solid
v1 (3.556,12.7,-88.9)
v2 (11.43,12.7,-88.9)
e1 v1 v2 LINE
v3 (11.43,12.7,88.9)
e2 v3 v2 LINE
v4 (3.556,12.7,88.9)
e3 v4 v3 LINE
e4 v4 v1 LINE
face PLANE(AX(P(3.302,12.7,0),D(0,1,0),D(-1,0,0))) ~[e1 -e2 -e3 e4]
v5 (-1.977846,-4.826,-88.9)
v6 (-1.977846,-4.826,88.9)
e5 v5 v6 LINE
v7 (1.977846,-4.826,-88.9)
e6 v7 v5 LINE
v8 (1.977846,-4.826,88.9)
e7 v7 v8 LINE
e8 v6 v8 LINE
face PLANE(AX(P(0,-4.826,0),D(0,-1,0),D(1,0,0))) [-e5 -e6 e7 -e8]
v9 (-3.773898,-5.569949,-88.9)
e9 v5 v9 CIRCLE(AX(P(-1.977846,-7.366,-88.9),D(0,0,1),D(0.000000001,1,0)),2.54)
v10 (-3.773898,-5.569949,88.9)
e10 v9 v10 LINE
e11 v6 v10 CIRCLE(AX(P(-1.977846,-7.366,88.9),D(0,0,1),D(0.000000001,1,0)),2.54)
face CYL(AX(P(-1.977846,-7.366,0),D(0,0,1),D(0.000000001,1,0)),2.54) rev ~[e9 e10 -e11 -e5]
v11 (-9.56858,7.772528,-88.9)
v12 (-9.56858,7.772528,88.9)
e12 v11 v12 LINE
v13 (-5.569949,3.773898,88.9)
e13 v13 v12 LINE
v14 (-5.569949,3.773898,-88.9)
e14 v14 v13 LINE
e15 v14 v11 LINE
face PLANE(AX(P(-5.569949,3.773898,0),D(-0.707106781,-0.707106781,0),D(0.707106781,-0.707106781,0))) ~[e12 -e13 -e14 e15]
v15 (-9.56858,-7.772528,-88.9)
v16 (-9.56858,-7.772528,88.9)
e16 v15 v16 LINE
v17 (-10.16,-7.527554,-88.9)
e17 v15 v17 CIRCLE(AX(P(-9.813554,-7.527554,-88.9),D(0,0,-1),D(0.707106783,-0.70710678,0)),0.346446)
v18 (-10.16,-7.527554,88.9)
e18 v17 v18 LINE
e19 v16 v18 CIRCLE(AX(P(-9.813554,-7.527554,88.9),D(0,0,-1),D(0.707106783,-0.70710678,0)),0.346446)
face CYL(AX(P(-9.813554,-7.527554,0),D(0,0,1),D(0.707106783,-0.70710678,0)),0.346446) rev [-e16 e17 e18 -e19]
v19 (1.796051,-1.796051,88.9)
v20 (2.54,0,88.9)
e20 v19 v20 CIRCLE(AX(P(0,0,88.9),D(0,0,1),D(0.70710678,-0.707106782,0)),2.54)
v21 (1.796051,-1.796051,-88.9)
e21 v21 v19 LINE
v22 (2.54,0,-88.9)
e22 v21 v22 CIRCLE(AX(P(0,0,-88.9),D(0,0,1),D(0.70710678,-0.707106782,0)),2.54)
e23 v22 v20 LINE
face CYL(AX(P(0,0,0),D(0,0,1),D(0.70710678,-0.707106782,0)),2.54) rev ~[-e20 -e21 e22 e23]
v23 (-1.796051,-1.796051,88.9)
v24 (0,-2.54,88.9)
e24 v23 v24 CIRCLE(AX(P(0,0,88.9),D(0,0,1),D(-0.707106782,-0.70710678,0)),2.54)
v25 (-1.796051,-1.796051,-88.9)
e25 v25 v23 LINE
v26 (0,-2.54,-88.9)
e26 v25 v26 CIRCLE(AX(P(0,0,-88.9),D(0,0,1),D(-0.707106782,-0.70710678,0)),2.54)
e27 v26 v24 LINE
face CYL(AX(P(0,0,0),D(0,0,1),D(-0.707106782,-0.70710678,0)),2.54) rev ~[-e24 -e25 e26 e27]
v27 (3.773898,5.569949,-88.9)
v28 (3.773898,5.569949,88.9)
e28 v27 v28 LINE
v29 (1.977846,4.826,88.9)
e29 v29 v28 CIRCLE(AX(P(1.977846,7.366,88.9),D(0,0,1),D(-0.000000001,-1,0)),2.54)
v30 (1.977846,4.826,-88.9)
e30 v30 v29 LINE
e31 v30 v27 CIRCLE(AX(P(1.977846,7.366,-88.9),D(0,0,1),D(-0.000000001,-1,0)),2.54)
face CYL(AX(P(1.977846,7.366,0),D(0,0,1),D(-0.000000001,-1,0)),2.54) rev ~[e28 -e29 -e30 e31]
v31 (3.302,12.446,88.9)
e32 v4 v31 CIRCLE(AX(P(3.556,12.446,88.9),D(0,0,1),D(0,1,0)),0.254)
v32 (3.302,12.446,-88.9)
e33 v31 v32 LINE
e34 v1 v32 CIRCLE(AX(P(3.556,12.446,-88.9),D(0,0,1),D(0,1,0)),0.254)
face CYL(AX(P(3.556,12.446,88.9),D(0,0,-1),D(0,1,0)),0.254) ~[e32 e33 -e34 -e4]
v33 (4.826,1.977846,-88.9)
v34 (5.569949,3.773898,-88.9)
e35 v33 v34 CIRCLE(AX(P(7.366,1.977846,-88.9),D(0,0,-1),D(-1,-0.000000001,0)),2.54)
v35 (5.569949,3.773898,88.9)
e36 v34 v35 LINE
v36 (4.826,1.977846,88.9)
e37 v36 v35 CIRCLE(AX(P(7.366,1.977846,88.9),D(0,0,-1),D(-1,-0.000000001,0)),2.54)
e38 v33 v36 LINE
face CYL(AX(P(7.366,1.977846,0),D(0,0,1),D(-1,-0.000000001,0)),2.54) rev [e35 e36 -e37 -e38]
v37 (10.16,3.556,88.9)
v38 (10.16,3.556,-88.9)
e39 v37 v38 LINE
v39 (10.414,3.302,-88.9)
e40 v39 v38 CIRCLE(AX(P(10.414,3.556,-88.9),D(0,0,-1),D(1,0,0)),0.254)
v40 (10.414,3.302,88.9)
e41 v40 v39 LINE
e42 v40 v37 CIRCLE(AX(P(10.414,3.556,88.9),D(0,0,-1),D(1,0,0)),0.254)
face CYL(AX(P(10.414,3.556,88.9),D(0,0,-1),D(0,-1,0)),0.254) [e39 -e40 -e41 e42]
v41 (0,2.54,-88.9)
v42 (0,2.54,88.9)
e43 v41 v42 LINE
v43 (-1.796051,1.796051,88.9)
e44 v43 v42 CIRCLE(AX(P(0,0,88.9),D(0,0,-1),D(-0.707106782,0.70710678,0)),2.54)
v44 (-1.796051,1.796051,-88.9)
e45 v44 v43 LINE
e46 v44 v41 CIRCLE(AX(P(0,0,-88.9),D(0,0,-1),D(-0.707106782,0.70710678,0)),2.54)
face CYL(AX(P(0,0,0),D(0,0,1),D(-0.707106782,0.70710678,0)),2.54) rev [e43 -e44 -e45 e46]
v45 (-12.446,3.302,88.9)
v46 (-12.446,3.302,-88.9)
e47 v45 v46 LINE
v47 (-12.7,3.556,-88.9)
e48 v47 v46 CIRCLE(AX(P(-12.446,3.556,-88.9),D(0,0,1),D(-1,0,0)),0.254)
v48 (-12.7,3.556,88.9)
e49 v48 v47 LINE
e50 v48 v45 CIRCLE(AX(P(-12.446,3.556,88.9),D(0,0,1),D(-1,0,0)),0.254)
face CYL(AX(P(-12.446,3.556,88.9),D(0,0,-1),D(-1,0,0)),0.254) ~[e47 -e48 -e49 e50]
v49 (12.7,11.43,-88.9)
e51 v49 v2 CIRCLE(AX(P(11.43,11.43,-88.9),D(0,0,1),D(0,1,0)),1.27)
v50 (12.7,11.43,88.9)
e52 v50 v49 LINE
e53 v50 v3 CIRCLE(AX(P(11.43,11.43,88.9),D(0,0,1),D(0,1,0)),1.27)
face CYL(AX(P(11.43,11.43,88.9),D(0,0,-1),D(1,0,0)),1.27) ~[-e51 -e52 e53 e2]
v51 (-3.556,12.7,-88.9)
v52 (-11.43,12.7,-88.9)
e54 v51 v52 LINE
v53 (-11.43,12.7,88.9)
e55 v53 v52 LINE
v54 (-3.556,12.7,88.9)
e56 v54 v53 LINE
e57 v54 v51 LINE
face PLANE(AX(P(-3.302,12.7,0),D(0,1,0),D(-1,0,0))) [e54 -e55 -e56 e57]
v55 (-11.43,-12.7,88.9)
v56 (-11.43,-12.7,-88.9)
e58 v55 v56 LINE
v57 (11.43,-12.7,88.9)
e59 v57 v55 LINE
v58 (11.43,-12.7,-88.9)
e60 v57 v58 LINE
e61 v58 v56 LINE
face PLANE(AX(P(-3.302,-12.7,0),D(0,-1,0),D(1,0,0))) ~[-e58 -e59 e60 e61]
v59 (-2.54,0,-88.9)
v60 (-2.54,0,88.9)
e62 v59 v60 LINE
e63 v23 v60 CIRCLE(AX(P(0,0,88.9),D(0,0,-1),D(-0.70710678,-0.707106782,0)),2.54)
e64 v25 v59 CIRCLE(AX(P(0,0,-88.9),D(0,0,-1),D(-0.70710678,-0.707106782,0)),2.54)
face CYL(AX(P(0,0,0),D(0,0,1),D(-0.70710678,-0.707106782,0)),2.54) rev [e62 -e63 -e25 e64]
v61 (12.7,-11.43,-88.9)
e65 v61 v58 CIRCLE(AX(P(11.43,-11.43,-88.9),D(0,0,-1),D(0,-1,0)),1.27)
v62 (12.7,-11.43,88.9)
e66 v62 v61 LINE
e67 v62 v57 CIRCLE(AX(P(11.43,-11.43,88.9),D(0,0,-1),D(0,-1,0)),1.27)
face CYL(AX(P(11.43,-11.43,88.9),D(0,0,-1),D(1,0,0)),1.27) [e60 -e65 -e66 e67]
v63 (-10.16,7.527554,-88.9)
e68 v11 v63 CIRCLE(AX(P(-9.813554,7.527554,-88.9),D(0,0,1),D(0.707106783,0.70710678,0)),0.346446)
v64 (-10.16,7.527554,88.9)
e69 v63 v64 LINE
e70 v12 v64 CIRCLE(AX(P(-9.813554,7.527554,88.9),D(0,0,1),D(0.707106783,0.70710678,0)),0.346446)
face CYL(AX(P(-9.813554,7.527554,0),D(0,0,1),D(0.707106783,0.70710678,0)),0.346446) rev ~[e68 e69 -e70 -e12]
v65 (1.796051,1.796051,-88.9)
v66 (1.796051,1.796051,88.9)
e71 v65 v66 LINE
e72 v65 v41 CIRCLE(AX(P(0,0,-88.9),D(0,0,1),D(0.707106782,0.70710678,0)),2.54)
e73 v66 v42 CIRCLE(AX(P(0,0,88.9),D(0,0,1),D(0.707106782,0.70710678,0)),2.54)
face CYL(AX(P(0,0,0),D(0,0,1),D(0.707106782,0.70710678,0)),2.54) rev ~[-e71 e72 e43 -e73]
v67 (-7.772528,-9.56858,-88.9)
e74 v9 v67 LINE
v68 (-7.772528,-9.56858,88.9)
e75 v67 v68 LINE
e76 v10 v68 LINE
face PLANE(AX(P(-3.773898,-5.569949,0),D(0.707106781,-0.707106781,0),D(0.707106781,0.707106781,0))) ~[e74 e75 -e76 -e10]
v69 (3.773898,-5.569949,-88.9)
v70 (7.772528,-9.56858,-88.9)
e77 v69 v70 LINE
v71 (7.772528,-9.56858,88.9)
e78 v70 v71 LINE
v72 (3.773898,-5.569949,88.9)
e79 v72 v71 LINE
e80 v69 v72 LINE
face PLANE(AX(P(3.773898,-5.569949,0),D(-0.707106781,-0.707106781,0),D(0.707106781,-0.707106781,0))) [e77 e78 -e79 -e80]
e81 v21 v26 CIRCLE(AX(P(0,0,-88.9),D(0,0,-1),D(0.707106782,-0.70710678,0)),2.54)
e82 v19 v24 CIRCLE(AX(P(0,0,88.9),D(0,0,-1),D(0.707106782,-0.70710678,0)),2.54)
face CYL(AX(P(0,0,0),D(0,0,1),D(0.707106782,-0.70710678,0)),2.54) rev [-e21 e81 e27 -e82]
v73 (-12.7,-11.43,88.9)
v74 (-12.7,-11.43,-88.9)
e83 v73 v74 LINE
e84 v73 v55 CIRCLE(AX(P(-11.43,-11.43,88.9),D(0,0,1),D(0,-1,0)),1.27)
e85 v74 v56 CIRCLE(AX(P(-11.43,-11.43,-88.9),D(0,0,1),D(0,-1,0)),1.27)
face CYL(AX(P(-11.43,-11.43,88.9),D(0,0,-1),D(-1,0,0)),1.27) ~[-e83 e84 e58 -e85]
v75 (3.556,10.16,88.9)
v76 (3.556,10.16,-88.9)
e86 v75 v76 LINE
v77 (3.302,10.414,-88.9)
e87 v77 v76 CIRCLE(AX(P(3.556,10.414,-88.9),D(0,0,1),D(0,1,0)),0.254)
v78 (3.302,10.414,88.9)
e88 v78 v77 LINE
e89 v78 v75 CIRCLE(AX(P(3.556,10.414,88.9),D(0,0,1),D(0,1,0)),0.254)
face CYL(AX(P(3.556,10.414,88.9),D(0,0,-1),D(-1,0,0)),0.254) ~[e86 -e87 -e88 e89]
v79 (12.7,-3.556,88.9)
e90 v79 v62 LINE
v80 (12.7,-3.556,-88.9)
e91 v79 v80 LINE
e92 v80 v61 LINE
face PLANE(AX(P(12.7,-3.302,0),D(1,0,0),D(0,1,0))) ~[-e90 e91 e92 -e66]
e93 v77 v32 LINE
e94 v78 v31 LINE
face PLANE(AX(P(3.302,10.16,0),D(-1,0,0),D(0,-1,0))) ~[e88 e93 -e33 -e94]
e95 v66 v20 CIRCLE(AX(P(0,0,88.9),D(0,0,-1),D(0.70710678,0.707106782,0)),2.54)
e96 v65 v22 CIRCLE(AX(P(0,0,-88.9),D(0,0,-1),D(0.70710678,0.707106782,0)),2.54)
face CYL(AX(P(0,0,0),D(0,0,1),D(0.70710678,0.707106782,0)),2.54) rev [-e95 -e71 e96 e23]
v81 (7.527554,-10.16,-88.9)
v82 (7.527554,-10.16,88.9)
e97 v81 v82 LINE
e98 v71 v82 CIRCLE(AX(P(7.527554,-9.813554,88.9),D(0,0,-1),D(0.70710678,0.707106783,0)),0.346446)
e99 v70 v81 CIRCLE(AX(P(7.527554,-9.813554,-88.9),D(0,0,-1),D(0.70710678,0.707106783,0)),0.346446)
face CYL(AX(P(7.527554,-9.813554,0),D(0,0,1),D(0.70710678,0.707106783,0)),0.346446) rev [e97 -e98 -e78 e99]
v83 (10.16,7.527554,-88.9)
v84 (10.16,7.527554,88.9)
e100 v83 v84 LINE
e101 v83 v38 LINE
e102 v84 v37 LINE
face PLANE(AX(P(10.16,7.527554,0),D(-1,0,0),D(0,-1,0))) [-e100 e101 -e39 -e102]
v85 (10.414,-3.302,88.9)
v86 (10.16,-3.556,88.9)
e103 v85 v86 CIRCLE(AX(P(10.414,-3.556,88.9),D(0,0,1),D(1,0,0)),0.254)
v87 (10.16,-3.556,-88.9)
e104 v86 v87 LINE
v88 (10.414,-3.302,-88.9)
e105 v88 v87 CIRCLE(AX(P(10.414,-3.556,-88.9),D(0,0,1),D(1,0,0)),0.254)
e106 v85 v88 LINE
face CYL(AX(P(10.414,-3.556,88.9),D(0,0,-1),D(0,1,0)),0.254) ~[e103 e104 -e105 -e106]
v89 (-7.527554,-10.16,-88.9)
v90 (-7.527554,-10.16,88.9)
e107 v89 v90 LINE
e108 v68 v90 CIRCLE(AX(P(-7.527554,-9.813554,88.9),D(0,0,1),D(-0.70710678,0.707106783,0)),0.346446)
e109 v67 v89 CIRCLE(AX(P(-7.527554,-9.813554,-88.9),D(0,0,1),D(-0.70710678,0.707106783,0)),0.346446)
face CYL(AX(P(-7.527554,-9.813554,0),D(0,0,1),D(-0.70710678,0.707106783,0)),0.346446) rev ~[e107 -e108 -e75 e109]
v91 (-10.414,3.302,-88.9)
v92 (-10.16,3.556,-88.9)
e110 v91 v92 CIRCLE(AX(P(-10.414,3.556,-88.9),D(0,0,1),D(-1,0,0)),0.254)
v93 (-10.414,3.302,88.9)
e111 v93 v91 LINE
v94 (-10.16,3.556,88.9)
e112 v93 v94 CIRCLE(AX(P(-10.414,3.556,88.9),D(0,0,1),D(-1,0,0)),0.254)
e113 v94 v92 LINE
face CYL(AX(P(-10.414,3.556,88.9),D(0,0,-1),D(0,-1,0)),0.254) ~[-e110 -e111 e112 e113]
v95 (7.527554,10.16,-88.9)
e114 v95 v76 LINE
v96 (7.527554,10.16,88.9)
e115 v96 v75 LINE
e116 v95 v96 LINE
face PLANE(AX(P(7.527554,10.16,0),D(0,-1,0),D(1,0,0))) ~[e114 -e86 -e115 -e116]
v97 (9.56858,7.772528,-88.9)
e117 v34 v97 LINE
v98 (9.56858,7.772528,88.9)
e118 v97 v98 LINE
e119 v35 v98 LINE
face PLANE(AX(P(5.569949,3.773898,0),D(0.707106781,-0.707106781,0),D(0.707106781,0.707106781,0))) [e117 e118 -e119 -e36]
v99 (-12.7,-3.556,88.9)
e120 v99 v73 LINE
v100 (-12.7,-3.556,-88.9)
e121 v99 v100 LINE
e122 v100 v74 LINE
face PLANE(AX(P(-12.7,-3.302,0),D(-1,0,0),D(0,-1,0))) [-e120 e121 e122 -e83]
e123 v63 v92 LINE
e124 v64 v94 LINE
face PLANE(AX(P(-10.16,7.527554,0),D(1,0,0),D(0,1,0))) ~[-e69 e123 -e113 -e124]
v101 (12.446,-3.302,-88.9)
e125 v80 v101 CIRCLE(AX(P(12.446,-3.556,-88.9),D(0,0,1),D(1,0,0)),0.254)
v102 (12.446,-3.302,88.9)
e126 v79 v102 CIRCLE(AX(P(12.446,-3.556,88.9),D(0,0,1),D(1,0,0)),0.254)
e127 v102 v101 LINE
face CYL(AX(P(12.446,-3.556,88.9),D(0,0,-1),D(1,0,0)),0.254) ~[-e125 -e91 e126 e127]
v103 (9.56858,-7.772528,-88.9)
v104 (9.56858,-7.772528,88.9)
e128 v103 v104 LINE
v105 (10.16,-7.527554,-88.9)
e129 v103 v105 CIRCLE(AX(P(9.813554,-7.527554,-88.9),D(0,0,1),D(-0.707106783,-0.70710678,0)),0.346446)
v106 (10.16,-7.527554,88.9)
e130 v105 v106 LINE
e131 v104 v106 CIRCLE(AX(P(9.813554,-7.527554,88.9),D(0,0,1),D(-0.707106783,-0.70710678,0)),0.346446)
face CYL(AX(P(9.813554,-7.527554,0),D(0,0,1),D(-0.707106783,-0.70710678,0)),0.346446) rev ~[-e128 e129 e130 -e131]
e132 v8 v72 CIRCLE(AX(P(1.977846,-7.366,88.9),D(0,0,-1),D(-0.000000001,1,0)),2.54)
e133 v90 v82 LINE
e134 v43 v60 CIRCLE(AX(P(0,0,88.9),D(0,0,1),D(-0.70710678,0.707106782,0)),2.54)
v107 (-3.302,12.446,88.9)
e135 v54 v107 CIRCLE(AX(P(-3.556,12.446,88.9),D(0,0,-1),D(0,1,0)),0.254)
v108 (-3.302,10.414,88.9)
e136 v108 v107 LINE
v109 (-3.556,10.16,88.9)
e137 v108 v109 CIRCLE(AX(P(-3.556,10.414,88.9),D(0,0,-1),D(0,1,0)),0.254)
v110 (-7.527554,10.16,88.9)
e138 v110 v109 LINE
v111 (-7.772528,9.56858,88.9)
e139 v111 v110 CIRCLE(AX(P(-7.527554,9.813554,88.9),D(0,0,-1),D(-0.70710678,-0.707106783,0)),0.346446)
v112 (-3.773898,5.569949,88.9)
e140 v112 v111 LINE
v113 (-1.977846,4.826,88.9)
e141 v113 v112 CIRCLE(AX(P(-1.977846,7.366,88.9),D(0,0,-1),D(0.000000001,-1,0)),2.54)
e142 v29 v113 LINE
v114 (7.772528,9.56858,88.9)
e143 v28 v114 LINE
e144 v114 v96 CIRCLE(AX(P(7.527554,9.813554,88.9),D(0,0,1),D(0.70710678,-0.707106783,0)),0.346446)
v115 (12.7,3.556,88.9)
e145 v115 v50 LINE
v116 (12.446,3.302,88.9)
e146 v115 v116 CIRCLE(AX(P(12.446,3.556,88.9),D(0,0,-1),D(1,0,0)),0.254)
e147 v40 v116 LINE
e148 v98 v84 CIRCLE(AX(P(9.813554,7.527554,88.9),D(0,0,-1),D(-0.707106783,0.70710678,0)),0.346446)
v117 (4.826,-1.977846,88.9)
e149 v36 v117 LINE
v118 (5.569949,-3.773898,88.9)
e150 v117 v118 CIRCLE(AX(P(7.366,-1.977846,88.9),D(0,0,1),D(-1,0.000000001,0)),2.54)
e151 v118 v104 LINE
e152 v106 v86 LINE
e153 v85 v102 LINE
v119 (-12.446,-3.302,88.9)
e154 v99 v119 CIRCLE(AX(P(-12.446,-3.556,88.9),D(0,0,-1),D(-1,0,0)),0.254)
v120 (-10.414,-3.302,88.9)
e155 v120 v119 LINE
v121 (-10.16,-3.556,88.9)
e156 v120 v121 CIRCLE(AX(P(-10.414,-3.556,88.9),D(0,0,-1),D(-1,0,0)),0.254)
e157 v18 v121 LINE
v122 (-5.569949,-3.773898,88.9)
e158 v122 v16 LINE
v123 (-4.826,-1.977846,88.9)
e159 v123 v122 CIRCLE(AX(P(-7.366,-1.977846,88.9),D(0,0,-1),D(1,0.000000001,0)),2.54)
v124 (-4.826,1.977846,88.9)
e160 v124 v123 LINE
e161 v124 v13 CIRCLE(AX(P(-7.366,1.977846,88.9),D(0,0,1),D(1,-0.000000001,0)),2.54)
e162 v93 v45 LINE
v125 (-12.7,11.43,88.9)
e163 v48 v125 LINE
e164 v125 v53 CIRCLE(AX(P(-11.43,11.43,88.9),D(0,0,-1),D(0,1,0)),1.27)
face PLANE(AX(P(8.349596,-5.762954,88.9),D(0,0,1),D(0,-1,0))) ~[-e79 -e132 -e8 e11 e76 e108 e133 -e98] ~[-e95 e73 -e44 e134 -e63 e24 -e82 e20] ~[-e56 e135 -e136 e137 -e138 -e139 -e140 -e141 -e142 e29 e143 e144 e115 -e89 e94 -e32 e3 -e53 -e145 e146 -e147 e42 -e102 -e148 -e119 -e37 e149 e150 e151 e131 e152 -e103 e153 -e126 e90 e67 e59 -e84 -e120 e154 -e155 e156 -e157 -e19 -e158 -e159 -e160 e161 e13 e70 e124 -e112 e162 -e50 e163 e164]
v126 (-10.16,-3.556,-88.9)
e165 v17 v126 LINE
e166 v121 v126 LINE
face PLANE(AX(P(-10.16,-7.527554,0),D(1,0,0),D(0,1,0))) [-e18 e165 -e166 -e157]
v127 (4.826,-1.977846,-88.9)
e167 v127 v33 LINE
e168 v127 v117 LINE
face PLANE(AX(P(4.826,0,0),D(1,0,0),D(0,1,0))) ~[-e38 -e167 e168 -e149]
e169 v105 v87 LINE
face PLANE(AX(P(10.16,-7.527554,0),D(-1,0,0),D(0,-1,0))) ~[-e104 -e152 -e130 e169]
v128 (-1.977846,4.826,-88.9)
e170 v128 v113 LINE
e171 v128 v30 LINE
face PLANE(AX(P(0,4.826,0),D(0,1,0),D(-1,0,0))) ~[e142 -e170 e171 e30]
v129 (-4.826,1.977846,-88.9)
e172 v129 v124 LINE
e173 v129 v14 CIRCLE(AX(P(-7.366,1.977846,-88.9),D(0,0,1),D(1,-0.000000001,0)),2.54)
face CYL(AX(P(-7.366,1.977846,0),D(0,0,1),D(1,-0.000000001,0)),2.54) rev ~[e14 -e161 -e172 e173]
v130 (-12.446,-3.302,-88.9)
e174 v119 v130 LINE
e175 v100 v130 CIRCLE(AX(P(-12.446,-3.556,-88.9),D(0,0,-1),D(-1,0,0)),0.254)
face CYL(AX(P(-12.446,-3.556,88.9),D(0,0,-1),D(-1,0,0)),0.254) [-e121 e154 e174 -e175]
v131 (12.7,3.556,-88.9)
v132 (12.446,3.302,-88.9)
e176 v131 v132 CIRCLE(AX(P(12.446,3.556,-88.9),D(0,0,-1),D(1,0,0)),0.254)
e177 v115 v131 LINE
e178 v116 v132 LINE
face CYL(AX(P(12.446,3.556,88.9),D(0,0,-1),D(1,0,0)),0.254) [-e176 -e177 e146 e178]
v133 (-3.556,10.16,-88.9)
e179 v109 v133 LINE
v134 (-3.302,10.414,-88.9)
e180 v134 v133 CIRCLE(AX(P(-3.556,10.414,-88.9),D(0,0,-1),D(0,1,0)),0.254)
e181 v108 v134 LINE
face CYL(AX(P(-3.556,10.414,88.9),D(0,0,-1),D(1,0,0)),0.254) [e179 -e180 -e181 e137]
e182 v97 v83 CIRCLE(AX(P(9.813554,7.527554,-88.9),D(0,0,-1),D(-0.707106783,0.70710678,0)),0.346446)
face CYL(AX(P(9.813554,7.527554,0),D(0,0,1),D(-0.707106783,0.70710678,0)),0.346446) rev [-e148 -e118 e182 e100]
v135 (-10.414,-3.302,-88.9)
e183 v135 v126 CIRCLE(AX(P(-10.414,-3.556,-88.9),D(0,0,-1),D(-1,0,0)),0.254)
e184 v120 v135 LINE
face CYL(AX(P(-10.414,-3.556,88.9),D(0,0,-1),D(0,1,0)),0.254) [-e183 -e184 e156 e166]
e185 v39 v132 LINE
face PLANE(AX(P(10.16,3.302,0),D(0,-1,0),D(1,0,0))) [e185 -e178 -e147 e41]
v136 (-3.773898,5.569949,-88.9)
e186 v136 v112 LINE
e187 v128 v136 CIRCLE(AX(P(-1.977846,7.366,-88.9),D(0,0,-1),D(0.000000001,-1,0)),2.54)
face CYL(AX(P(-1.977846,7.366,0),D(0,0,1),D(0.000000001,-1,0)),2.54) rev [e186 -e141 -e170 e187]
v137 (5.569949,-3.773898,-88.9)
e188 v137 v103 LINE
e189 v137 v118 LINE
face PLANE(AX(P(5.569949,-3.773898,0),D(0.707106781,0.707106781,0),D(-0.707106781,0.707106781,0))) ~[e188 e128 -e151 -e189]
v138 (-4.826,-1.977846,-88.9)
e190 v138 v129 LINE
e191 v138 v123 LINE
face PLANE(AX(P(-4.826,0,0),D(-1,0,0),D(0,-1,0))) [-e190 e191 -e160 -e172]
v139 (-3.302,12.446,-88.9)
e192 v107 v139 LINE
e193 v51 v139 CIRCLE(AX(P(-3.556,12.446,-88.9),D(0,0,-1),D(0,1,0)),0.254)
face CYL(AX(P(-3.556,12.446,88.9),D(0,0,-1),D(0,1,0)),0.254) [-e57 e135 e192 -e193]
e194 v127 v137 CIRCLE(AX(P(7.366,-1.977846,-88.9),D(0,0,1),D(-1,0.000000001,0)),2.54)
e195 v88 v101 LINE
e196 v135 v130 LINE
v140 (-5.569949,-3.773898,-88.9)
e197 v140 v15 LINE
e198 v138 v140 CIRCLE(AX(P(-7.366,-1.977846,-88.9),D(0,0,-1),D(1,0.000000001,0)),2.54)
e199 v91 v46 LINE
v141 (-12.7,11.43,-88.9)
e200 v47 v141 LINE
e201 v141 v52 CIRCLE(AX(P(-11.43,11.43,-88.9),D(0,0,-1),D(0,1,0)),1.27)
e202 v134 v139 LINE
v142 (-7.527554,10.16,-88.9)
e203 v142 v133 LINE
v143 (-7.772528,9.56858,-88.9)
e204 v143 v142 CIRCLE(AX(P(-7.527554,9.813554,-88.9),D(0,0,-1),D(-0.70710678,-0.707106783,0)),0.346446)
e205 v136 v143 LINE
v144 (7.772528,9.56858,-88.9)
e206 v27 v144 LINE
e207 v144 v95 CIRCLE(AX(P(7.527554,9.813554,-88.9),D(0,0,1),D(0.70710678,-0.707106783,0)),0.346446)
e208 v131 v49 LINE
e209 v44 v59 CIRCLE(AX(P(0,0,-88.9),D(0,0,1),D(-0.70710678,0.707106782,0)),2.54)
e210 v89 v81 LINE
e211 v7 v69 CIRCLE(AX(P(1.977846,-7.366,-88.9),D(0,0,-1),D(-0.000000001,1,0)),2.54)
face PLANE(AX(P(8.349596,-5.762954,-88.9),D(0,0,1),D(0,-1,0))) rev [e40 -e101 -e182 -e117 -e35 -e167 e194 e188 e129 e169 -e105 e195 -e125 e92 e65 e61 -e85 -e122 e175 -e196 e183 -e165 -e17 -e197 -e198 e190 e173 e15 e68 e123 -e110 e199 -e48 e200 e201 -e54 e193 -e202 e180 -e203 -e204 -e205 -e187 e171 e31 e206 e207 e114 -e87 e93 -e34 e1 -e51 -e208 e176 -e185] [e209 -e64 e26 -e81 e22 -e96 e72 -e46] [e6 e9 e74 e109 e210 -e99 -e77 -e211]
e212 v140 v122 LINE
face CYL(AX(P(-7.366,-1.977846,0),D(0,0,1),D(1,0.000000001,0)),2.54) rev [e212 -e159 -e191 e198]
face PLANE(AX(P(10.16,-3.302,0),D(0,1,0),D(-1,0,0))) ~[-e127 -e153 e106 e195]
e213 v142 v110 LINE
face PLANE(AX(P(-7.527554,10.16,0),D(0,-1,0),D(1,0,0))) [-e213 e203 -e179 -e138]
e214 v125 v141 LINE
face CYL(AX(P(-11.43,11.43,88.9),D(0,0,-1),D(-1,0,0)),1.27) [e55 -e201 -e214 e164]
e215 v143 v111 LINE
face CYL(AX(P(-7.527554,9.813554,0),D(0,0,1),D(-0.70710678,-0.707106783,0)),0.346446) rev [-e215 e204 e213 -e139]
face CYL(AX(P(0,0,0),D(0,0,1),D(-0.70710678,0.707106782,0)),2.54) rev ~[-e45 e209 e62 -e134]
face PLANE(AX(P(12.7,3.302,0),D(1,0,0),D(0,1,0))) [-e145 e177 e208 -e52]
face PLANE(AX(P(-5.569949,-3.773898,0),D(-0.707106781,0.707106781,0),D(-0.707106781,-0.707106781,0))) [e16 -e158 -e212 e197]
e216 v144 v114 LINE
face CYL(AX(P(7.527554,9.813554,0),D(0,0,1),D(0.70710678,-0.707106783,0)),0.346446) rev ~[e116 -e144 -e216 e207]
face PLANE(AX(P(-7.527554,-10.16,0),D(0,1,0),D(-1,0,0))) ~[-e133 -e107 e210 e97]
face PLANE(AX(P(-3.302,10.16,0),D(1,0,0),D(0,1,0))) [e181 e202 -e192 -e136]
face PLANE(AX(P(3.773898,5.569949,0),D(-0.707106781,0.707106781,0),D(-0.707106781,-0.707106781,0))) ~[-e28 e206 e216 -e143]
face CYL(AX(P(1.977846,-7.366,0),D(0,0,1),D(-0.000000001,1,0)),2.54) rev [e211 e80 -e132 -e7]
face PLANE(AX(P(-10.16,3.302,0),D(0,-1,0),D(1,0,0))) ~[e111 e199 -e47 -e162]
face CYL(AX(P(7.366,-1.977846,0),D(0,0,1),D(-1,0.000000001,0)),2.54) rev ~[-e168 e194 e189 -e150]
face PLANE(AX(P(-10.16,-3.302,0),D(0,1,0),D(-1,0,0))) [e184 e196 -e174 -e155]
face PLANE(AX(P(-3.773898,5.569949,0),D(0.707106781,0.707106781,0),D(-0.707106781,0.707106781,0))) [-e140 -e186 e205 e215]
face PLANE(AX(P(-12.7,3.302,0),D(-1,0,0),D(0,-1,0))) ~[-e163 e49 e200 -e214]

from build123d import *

# Parameters (mm, degrees)
BOSS_EXTRUDE1_DEPTH = 88.9
FILLET2_R           = 0.254
FILLET1_R           = 1.27
SKETCH5_W           = 7.112
SKETCH5_H           = 2.54
BOSS_EXTRUDE2_DEPTH = 177.8


with BuildPart() as part:
    # Sketch3 → Boss-Extrude1 (new body, symmetric)
    with BuildSketch(Plane.XY):
        with BuildLine():
            Line((-12.7, 12.7), (-1.796051224, 1.796051224))
            ThreePointArc((-1.796051224, 1.796051224), (-0.972015918, 2.346654013), (0, 2.54))
            Line((0, 2.54), (0, 4.826))
            Line((0, 4.826), (-1.977846327, 4.826))
            ThreePointArc((-1.977846327, 4.826), (-2.949862246, 5.019345987), (-3.773897552, 5.569948776))
            Line((-3.773897552, 5.569948776), (-7.772528286, 9.56857951))
            ThreePointArc((-7.772528286, 9.56857951), (-7.847628361, 9.946133082), (-7.527553898, 10.16))
            Line((-7.527553898, 10.16), (-3.302, 10.16))
            Line((-3.302, 10.16), (-3.302, 12.7))
            Line((-3.302, 12.7), (-12.7, 12.7))
        make_face()
    extrude(amount=BOSS_EXTRUDE1_DEPTH, both=True)

    # Fillet2
    fillet2_edges = [part.edges().sort_by_distance(p)[0] for p in [
        (-3.302, 12.7, 0),
        (-3.302, 10.16, 0),
    ]]
    fillet(fillet2_edges, radius=FILLET2_R)

    # Mirror1: part across plane


with BuildPart() as part_1:
    add(part.part)
    add(part.part.mirror(Plane(origin=(0, 0, 88.9), x_dir=(0, 0, 1), z_dir=(0.707106781, 0.707106781, 0))))

    # Fillet1
    fillet1_edges = [part_1.edges().sort_by_distance(p)[0] for p in [
        (-12.7, 12.7, 0),
    ]]
    fillet(fillet1_edges, radius=FILLET1_R)

    # Mirror2: part across plane


with BuildPart() as part_2:
    add(part_1.part)
    add(part_1.part.mirror(Plane(origin=(0, 0, 88.9), x_dir=(0, 0, 1), z_dir=(0, 1, 0))))

    # Mirror5: part across plane


with BuildPart() as part_3:
    add(part_2.part)
    add(part_2.part.mirror(Plane(origin=(0, 0, 88.9), x_dir=(0, 0, 1), z_dir=(-1, 0, 0))))

    # Sketch5 → Boss-Extrude2 (add, through all)
    with BuildSketch(Plane.XY.offset(88.9)):
        with Locations((0, -11.43)):
            Rectangle(SKETCH5_W, SKETCH5_H)
    extrude(amount=-BOSS_EXTRUDE2_DEPTH)


solid = part_3.part
